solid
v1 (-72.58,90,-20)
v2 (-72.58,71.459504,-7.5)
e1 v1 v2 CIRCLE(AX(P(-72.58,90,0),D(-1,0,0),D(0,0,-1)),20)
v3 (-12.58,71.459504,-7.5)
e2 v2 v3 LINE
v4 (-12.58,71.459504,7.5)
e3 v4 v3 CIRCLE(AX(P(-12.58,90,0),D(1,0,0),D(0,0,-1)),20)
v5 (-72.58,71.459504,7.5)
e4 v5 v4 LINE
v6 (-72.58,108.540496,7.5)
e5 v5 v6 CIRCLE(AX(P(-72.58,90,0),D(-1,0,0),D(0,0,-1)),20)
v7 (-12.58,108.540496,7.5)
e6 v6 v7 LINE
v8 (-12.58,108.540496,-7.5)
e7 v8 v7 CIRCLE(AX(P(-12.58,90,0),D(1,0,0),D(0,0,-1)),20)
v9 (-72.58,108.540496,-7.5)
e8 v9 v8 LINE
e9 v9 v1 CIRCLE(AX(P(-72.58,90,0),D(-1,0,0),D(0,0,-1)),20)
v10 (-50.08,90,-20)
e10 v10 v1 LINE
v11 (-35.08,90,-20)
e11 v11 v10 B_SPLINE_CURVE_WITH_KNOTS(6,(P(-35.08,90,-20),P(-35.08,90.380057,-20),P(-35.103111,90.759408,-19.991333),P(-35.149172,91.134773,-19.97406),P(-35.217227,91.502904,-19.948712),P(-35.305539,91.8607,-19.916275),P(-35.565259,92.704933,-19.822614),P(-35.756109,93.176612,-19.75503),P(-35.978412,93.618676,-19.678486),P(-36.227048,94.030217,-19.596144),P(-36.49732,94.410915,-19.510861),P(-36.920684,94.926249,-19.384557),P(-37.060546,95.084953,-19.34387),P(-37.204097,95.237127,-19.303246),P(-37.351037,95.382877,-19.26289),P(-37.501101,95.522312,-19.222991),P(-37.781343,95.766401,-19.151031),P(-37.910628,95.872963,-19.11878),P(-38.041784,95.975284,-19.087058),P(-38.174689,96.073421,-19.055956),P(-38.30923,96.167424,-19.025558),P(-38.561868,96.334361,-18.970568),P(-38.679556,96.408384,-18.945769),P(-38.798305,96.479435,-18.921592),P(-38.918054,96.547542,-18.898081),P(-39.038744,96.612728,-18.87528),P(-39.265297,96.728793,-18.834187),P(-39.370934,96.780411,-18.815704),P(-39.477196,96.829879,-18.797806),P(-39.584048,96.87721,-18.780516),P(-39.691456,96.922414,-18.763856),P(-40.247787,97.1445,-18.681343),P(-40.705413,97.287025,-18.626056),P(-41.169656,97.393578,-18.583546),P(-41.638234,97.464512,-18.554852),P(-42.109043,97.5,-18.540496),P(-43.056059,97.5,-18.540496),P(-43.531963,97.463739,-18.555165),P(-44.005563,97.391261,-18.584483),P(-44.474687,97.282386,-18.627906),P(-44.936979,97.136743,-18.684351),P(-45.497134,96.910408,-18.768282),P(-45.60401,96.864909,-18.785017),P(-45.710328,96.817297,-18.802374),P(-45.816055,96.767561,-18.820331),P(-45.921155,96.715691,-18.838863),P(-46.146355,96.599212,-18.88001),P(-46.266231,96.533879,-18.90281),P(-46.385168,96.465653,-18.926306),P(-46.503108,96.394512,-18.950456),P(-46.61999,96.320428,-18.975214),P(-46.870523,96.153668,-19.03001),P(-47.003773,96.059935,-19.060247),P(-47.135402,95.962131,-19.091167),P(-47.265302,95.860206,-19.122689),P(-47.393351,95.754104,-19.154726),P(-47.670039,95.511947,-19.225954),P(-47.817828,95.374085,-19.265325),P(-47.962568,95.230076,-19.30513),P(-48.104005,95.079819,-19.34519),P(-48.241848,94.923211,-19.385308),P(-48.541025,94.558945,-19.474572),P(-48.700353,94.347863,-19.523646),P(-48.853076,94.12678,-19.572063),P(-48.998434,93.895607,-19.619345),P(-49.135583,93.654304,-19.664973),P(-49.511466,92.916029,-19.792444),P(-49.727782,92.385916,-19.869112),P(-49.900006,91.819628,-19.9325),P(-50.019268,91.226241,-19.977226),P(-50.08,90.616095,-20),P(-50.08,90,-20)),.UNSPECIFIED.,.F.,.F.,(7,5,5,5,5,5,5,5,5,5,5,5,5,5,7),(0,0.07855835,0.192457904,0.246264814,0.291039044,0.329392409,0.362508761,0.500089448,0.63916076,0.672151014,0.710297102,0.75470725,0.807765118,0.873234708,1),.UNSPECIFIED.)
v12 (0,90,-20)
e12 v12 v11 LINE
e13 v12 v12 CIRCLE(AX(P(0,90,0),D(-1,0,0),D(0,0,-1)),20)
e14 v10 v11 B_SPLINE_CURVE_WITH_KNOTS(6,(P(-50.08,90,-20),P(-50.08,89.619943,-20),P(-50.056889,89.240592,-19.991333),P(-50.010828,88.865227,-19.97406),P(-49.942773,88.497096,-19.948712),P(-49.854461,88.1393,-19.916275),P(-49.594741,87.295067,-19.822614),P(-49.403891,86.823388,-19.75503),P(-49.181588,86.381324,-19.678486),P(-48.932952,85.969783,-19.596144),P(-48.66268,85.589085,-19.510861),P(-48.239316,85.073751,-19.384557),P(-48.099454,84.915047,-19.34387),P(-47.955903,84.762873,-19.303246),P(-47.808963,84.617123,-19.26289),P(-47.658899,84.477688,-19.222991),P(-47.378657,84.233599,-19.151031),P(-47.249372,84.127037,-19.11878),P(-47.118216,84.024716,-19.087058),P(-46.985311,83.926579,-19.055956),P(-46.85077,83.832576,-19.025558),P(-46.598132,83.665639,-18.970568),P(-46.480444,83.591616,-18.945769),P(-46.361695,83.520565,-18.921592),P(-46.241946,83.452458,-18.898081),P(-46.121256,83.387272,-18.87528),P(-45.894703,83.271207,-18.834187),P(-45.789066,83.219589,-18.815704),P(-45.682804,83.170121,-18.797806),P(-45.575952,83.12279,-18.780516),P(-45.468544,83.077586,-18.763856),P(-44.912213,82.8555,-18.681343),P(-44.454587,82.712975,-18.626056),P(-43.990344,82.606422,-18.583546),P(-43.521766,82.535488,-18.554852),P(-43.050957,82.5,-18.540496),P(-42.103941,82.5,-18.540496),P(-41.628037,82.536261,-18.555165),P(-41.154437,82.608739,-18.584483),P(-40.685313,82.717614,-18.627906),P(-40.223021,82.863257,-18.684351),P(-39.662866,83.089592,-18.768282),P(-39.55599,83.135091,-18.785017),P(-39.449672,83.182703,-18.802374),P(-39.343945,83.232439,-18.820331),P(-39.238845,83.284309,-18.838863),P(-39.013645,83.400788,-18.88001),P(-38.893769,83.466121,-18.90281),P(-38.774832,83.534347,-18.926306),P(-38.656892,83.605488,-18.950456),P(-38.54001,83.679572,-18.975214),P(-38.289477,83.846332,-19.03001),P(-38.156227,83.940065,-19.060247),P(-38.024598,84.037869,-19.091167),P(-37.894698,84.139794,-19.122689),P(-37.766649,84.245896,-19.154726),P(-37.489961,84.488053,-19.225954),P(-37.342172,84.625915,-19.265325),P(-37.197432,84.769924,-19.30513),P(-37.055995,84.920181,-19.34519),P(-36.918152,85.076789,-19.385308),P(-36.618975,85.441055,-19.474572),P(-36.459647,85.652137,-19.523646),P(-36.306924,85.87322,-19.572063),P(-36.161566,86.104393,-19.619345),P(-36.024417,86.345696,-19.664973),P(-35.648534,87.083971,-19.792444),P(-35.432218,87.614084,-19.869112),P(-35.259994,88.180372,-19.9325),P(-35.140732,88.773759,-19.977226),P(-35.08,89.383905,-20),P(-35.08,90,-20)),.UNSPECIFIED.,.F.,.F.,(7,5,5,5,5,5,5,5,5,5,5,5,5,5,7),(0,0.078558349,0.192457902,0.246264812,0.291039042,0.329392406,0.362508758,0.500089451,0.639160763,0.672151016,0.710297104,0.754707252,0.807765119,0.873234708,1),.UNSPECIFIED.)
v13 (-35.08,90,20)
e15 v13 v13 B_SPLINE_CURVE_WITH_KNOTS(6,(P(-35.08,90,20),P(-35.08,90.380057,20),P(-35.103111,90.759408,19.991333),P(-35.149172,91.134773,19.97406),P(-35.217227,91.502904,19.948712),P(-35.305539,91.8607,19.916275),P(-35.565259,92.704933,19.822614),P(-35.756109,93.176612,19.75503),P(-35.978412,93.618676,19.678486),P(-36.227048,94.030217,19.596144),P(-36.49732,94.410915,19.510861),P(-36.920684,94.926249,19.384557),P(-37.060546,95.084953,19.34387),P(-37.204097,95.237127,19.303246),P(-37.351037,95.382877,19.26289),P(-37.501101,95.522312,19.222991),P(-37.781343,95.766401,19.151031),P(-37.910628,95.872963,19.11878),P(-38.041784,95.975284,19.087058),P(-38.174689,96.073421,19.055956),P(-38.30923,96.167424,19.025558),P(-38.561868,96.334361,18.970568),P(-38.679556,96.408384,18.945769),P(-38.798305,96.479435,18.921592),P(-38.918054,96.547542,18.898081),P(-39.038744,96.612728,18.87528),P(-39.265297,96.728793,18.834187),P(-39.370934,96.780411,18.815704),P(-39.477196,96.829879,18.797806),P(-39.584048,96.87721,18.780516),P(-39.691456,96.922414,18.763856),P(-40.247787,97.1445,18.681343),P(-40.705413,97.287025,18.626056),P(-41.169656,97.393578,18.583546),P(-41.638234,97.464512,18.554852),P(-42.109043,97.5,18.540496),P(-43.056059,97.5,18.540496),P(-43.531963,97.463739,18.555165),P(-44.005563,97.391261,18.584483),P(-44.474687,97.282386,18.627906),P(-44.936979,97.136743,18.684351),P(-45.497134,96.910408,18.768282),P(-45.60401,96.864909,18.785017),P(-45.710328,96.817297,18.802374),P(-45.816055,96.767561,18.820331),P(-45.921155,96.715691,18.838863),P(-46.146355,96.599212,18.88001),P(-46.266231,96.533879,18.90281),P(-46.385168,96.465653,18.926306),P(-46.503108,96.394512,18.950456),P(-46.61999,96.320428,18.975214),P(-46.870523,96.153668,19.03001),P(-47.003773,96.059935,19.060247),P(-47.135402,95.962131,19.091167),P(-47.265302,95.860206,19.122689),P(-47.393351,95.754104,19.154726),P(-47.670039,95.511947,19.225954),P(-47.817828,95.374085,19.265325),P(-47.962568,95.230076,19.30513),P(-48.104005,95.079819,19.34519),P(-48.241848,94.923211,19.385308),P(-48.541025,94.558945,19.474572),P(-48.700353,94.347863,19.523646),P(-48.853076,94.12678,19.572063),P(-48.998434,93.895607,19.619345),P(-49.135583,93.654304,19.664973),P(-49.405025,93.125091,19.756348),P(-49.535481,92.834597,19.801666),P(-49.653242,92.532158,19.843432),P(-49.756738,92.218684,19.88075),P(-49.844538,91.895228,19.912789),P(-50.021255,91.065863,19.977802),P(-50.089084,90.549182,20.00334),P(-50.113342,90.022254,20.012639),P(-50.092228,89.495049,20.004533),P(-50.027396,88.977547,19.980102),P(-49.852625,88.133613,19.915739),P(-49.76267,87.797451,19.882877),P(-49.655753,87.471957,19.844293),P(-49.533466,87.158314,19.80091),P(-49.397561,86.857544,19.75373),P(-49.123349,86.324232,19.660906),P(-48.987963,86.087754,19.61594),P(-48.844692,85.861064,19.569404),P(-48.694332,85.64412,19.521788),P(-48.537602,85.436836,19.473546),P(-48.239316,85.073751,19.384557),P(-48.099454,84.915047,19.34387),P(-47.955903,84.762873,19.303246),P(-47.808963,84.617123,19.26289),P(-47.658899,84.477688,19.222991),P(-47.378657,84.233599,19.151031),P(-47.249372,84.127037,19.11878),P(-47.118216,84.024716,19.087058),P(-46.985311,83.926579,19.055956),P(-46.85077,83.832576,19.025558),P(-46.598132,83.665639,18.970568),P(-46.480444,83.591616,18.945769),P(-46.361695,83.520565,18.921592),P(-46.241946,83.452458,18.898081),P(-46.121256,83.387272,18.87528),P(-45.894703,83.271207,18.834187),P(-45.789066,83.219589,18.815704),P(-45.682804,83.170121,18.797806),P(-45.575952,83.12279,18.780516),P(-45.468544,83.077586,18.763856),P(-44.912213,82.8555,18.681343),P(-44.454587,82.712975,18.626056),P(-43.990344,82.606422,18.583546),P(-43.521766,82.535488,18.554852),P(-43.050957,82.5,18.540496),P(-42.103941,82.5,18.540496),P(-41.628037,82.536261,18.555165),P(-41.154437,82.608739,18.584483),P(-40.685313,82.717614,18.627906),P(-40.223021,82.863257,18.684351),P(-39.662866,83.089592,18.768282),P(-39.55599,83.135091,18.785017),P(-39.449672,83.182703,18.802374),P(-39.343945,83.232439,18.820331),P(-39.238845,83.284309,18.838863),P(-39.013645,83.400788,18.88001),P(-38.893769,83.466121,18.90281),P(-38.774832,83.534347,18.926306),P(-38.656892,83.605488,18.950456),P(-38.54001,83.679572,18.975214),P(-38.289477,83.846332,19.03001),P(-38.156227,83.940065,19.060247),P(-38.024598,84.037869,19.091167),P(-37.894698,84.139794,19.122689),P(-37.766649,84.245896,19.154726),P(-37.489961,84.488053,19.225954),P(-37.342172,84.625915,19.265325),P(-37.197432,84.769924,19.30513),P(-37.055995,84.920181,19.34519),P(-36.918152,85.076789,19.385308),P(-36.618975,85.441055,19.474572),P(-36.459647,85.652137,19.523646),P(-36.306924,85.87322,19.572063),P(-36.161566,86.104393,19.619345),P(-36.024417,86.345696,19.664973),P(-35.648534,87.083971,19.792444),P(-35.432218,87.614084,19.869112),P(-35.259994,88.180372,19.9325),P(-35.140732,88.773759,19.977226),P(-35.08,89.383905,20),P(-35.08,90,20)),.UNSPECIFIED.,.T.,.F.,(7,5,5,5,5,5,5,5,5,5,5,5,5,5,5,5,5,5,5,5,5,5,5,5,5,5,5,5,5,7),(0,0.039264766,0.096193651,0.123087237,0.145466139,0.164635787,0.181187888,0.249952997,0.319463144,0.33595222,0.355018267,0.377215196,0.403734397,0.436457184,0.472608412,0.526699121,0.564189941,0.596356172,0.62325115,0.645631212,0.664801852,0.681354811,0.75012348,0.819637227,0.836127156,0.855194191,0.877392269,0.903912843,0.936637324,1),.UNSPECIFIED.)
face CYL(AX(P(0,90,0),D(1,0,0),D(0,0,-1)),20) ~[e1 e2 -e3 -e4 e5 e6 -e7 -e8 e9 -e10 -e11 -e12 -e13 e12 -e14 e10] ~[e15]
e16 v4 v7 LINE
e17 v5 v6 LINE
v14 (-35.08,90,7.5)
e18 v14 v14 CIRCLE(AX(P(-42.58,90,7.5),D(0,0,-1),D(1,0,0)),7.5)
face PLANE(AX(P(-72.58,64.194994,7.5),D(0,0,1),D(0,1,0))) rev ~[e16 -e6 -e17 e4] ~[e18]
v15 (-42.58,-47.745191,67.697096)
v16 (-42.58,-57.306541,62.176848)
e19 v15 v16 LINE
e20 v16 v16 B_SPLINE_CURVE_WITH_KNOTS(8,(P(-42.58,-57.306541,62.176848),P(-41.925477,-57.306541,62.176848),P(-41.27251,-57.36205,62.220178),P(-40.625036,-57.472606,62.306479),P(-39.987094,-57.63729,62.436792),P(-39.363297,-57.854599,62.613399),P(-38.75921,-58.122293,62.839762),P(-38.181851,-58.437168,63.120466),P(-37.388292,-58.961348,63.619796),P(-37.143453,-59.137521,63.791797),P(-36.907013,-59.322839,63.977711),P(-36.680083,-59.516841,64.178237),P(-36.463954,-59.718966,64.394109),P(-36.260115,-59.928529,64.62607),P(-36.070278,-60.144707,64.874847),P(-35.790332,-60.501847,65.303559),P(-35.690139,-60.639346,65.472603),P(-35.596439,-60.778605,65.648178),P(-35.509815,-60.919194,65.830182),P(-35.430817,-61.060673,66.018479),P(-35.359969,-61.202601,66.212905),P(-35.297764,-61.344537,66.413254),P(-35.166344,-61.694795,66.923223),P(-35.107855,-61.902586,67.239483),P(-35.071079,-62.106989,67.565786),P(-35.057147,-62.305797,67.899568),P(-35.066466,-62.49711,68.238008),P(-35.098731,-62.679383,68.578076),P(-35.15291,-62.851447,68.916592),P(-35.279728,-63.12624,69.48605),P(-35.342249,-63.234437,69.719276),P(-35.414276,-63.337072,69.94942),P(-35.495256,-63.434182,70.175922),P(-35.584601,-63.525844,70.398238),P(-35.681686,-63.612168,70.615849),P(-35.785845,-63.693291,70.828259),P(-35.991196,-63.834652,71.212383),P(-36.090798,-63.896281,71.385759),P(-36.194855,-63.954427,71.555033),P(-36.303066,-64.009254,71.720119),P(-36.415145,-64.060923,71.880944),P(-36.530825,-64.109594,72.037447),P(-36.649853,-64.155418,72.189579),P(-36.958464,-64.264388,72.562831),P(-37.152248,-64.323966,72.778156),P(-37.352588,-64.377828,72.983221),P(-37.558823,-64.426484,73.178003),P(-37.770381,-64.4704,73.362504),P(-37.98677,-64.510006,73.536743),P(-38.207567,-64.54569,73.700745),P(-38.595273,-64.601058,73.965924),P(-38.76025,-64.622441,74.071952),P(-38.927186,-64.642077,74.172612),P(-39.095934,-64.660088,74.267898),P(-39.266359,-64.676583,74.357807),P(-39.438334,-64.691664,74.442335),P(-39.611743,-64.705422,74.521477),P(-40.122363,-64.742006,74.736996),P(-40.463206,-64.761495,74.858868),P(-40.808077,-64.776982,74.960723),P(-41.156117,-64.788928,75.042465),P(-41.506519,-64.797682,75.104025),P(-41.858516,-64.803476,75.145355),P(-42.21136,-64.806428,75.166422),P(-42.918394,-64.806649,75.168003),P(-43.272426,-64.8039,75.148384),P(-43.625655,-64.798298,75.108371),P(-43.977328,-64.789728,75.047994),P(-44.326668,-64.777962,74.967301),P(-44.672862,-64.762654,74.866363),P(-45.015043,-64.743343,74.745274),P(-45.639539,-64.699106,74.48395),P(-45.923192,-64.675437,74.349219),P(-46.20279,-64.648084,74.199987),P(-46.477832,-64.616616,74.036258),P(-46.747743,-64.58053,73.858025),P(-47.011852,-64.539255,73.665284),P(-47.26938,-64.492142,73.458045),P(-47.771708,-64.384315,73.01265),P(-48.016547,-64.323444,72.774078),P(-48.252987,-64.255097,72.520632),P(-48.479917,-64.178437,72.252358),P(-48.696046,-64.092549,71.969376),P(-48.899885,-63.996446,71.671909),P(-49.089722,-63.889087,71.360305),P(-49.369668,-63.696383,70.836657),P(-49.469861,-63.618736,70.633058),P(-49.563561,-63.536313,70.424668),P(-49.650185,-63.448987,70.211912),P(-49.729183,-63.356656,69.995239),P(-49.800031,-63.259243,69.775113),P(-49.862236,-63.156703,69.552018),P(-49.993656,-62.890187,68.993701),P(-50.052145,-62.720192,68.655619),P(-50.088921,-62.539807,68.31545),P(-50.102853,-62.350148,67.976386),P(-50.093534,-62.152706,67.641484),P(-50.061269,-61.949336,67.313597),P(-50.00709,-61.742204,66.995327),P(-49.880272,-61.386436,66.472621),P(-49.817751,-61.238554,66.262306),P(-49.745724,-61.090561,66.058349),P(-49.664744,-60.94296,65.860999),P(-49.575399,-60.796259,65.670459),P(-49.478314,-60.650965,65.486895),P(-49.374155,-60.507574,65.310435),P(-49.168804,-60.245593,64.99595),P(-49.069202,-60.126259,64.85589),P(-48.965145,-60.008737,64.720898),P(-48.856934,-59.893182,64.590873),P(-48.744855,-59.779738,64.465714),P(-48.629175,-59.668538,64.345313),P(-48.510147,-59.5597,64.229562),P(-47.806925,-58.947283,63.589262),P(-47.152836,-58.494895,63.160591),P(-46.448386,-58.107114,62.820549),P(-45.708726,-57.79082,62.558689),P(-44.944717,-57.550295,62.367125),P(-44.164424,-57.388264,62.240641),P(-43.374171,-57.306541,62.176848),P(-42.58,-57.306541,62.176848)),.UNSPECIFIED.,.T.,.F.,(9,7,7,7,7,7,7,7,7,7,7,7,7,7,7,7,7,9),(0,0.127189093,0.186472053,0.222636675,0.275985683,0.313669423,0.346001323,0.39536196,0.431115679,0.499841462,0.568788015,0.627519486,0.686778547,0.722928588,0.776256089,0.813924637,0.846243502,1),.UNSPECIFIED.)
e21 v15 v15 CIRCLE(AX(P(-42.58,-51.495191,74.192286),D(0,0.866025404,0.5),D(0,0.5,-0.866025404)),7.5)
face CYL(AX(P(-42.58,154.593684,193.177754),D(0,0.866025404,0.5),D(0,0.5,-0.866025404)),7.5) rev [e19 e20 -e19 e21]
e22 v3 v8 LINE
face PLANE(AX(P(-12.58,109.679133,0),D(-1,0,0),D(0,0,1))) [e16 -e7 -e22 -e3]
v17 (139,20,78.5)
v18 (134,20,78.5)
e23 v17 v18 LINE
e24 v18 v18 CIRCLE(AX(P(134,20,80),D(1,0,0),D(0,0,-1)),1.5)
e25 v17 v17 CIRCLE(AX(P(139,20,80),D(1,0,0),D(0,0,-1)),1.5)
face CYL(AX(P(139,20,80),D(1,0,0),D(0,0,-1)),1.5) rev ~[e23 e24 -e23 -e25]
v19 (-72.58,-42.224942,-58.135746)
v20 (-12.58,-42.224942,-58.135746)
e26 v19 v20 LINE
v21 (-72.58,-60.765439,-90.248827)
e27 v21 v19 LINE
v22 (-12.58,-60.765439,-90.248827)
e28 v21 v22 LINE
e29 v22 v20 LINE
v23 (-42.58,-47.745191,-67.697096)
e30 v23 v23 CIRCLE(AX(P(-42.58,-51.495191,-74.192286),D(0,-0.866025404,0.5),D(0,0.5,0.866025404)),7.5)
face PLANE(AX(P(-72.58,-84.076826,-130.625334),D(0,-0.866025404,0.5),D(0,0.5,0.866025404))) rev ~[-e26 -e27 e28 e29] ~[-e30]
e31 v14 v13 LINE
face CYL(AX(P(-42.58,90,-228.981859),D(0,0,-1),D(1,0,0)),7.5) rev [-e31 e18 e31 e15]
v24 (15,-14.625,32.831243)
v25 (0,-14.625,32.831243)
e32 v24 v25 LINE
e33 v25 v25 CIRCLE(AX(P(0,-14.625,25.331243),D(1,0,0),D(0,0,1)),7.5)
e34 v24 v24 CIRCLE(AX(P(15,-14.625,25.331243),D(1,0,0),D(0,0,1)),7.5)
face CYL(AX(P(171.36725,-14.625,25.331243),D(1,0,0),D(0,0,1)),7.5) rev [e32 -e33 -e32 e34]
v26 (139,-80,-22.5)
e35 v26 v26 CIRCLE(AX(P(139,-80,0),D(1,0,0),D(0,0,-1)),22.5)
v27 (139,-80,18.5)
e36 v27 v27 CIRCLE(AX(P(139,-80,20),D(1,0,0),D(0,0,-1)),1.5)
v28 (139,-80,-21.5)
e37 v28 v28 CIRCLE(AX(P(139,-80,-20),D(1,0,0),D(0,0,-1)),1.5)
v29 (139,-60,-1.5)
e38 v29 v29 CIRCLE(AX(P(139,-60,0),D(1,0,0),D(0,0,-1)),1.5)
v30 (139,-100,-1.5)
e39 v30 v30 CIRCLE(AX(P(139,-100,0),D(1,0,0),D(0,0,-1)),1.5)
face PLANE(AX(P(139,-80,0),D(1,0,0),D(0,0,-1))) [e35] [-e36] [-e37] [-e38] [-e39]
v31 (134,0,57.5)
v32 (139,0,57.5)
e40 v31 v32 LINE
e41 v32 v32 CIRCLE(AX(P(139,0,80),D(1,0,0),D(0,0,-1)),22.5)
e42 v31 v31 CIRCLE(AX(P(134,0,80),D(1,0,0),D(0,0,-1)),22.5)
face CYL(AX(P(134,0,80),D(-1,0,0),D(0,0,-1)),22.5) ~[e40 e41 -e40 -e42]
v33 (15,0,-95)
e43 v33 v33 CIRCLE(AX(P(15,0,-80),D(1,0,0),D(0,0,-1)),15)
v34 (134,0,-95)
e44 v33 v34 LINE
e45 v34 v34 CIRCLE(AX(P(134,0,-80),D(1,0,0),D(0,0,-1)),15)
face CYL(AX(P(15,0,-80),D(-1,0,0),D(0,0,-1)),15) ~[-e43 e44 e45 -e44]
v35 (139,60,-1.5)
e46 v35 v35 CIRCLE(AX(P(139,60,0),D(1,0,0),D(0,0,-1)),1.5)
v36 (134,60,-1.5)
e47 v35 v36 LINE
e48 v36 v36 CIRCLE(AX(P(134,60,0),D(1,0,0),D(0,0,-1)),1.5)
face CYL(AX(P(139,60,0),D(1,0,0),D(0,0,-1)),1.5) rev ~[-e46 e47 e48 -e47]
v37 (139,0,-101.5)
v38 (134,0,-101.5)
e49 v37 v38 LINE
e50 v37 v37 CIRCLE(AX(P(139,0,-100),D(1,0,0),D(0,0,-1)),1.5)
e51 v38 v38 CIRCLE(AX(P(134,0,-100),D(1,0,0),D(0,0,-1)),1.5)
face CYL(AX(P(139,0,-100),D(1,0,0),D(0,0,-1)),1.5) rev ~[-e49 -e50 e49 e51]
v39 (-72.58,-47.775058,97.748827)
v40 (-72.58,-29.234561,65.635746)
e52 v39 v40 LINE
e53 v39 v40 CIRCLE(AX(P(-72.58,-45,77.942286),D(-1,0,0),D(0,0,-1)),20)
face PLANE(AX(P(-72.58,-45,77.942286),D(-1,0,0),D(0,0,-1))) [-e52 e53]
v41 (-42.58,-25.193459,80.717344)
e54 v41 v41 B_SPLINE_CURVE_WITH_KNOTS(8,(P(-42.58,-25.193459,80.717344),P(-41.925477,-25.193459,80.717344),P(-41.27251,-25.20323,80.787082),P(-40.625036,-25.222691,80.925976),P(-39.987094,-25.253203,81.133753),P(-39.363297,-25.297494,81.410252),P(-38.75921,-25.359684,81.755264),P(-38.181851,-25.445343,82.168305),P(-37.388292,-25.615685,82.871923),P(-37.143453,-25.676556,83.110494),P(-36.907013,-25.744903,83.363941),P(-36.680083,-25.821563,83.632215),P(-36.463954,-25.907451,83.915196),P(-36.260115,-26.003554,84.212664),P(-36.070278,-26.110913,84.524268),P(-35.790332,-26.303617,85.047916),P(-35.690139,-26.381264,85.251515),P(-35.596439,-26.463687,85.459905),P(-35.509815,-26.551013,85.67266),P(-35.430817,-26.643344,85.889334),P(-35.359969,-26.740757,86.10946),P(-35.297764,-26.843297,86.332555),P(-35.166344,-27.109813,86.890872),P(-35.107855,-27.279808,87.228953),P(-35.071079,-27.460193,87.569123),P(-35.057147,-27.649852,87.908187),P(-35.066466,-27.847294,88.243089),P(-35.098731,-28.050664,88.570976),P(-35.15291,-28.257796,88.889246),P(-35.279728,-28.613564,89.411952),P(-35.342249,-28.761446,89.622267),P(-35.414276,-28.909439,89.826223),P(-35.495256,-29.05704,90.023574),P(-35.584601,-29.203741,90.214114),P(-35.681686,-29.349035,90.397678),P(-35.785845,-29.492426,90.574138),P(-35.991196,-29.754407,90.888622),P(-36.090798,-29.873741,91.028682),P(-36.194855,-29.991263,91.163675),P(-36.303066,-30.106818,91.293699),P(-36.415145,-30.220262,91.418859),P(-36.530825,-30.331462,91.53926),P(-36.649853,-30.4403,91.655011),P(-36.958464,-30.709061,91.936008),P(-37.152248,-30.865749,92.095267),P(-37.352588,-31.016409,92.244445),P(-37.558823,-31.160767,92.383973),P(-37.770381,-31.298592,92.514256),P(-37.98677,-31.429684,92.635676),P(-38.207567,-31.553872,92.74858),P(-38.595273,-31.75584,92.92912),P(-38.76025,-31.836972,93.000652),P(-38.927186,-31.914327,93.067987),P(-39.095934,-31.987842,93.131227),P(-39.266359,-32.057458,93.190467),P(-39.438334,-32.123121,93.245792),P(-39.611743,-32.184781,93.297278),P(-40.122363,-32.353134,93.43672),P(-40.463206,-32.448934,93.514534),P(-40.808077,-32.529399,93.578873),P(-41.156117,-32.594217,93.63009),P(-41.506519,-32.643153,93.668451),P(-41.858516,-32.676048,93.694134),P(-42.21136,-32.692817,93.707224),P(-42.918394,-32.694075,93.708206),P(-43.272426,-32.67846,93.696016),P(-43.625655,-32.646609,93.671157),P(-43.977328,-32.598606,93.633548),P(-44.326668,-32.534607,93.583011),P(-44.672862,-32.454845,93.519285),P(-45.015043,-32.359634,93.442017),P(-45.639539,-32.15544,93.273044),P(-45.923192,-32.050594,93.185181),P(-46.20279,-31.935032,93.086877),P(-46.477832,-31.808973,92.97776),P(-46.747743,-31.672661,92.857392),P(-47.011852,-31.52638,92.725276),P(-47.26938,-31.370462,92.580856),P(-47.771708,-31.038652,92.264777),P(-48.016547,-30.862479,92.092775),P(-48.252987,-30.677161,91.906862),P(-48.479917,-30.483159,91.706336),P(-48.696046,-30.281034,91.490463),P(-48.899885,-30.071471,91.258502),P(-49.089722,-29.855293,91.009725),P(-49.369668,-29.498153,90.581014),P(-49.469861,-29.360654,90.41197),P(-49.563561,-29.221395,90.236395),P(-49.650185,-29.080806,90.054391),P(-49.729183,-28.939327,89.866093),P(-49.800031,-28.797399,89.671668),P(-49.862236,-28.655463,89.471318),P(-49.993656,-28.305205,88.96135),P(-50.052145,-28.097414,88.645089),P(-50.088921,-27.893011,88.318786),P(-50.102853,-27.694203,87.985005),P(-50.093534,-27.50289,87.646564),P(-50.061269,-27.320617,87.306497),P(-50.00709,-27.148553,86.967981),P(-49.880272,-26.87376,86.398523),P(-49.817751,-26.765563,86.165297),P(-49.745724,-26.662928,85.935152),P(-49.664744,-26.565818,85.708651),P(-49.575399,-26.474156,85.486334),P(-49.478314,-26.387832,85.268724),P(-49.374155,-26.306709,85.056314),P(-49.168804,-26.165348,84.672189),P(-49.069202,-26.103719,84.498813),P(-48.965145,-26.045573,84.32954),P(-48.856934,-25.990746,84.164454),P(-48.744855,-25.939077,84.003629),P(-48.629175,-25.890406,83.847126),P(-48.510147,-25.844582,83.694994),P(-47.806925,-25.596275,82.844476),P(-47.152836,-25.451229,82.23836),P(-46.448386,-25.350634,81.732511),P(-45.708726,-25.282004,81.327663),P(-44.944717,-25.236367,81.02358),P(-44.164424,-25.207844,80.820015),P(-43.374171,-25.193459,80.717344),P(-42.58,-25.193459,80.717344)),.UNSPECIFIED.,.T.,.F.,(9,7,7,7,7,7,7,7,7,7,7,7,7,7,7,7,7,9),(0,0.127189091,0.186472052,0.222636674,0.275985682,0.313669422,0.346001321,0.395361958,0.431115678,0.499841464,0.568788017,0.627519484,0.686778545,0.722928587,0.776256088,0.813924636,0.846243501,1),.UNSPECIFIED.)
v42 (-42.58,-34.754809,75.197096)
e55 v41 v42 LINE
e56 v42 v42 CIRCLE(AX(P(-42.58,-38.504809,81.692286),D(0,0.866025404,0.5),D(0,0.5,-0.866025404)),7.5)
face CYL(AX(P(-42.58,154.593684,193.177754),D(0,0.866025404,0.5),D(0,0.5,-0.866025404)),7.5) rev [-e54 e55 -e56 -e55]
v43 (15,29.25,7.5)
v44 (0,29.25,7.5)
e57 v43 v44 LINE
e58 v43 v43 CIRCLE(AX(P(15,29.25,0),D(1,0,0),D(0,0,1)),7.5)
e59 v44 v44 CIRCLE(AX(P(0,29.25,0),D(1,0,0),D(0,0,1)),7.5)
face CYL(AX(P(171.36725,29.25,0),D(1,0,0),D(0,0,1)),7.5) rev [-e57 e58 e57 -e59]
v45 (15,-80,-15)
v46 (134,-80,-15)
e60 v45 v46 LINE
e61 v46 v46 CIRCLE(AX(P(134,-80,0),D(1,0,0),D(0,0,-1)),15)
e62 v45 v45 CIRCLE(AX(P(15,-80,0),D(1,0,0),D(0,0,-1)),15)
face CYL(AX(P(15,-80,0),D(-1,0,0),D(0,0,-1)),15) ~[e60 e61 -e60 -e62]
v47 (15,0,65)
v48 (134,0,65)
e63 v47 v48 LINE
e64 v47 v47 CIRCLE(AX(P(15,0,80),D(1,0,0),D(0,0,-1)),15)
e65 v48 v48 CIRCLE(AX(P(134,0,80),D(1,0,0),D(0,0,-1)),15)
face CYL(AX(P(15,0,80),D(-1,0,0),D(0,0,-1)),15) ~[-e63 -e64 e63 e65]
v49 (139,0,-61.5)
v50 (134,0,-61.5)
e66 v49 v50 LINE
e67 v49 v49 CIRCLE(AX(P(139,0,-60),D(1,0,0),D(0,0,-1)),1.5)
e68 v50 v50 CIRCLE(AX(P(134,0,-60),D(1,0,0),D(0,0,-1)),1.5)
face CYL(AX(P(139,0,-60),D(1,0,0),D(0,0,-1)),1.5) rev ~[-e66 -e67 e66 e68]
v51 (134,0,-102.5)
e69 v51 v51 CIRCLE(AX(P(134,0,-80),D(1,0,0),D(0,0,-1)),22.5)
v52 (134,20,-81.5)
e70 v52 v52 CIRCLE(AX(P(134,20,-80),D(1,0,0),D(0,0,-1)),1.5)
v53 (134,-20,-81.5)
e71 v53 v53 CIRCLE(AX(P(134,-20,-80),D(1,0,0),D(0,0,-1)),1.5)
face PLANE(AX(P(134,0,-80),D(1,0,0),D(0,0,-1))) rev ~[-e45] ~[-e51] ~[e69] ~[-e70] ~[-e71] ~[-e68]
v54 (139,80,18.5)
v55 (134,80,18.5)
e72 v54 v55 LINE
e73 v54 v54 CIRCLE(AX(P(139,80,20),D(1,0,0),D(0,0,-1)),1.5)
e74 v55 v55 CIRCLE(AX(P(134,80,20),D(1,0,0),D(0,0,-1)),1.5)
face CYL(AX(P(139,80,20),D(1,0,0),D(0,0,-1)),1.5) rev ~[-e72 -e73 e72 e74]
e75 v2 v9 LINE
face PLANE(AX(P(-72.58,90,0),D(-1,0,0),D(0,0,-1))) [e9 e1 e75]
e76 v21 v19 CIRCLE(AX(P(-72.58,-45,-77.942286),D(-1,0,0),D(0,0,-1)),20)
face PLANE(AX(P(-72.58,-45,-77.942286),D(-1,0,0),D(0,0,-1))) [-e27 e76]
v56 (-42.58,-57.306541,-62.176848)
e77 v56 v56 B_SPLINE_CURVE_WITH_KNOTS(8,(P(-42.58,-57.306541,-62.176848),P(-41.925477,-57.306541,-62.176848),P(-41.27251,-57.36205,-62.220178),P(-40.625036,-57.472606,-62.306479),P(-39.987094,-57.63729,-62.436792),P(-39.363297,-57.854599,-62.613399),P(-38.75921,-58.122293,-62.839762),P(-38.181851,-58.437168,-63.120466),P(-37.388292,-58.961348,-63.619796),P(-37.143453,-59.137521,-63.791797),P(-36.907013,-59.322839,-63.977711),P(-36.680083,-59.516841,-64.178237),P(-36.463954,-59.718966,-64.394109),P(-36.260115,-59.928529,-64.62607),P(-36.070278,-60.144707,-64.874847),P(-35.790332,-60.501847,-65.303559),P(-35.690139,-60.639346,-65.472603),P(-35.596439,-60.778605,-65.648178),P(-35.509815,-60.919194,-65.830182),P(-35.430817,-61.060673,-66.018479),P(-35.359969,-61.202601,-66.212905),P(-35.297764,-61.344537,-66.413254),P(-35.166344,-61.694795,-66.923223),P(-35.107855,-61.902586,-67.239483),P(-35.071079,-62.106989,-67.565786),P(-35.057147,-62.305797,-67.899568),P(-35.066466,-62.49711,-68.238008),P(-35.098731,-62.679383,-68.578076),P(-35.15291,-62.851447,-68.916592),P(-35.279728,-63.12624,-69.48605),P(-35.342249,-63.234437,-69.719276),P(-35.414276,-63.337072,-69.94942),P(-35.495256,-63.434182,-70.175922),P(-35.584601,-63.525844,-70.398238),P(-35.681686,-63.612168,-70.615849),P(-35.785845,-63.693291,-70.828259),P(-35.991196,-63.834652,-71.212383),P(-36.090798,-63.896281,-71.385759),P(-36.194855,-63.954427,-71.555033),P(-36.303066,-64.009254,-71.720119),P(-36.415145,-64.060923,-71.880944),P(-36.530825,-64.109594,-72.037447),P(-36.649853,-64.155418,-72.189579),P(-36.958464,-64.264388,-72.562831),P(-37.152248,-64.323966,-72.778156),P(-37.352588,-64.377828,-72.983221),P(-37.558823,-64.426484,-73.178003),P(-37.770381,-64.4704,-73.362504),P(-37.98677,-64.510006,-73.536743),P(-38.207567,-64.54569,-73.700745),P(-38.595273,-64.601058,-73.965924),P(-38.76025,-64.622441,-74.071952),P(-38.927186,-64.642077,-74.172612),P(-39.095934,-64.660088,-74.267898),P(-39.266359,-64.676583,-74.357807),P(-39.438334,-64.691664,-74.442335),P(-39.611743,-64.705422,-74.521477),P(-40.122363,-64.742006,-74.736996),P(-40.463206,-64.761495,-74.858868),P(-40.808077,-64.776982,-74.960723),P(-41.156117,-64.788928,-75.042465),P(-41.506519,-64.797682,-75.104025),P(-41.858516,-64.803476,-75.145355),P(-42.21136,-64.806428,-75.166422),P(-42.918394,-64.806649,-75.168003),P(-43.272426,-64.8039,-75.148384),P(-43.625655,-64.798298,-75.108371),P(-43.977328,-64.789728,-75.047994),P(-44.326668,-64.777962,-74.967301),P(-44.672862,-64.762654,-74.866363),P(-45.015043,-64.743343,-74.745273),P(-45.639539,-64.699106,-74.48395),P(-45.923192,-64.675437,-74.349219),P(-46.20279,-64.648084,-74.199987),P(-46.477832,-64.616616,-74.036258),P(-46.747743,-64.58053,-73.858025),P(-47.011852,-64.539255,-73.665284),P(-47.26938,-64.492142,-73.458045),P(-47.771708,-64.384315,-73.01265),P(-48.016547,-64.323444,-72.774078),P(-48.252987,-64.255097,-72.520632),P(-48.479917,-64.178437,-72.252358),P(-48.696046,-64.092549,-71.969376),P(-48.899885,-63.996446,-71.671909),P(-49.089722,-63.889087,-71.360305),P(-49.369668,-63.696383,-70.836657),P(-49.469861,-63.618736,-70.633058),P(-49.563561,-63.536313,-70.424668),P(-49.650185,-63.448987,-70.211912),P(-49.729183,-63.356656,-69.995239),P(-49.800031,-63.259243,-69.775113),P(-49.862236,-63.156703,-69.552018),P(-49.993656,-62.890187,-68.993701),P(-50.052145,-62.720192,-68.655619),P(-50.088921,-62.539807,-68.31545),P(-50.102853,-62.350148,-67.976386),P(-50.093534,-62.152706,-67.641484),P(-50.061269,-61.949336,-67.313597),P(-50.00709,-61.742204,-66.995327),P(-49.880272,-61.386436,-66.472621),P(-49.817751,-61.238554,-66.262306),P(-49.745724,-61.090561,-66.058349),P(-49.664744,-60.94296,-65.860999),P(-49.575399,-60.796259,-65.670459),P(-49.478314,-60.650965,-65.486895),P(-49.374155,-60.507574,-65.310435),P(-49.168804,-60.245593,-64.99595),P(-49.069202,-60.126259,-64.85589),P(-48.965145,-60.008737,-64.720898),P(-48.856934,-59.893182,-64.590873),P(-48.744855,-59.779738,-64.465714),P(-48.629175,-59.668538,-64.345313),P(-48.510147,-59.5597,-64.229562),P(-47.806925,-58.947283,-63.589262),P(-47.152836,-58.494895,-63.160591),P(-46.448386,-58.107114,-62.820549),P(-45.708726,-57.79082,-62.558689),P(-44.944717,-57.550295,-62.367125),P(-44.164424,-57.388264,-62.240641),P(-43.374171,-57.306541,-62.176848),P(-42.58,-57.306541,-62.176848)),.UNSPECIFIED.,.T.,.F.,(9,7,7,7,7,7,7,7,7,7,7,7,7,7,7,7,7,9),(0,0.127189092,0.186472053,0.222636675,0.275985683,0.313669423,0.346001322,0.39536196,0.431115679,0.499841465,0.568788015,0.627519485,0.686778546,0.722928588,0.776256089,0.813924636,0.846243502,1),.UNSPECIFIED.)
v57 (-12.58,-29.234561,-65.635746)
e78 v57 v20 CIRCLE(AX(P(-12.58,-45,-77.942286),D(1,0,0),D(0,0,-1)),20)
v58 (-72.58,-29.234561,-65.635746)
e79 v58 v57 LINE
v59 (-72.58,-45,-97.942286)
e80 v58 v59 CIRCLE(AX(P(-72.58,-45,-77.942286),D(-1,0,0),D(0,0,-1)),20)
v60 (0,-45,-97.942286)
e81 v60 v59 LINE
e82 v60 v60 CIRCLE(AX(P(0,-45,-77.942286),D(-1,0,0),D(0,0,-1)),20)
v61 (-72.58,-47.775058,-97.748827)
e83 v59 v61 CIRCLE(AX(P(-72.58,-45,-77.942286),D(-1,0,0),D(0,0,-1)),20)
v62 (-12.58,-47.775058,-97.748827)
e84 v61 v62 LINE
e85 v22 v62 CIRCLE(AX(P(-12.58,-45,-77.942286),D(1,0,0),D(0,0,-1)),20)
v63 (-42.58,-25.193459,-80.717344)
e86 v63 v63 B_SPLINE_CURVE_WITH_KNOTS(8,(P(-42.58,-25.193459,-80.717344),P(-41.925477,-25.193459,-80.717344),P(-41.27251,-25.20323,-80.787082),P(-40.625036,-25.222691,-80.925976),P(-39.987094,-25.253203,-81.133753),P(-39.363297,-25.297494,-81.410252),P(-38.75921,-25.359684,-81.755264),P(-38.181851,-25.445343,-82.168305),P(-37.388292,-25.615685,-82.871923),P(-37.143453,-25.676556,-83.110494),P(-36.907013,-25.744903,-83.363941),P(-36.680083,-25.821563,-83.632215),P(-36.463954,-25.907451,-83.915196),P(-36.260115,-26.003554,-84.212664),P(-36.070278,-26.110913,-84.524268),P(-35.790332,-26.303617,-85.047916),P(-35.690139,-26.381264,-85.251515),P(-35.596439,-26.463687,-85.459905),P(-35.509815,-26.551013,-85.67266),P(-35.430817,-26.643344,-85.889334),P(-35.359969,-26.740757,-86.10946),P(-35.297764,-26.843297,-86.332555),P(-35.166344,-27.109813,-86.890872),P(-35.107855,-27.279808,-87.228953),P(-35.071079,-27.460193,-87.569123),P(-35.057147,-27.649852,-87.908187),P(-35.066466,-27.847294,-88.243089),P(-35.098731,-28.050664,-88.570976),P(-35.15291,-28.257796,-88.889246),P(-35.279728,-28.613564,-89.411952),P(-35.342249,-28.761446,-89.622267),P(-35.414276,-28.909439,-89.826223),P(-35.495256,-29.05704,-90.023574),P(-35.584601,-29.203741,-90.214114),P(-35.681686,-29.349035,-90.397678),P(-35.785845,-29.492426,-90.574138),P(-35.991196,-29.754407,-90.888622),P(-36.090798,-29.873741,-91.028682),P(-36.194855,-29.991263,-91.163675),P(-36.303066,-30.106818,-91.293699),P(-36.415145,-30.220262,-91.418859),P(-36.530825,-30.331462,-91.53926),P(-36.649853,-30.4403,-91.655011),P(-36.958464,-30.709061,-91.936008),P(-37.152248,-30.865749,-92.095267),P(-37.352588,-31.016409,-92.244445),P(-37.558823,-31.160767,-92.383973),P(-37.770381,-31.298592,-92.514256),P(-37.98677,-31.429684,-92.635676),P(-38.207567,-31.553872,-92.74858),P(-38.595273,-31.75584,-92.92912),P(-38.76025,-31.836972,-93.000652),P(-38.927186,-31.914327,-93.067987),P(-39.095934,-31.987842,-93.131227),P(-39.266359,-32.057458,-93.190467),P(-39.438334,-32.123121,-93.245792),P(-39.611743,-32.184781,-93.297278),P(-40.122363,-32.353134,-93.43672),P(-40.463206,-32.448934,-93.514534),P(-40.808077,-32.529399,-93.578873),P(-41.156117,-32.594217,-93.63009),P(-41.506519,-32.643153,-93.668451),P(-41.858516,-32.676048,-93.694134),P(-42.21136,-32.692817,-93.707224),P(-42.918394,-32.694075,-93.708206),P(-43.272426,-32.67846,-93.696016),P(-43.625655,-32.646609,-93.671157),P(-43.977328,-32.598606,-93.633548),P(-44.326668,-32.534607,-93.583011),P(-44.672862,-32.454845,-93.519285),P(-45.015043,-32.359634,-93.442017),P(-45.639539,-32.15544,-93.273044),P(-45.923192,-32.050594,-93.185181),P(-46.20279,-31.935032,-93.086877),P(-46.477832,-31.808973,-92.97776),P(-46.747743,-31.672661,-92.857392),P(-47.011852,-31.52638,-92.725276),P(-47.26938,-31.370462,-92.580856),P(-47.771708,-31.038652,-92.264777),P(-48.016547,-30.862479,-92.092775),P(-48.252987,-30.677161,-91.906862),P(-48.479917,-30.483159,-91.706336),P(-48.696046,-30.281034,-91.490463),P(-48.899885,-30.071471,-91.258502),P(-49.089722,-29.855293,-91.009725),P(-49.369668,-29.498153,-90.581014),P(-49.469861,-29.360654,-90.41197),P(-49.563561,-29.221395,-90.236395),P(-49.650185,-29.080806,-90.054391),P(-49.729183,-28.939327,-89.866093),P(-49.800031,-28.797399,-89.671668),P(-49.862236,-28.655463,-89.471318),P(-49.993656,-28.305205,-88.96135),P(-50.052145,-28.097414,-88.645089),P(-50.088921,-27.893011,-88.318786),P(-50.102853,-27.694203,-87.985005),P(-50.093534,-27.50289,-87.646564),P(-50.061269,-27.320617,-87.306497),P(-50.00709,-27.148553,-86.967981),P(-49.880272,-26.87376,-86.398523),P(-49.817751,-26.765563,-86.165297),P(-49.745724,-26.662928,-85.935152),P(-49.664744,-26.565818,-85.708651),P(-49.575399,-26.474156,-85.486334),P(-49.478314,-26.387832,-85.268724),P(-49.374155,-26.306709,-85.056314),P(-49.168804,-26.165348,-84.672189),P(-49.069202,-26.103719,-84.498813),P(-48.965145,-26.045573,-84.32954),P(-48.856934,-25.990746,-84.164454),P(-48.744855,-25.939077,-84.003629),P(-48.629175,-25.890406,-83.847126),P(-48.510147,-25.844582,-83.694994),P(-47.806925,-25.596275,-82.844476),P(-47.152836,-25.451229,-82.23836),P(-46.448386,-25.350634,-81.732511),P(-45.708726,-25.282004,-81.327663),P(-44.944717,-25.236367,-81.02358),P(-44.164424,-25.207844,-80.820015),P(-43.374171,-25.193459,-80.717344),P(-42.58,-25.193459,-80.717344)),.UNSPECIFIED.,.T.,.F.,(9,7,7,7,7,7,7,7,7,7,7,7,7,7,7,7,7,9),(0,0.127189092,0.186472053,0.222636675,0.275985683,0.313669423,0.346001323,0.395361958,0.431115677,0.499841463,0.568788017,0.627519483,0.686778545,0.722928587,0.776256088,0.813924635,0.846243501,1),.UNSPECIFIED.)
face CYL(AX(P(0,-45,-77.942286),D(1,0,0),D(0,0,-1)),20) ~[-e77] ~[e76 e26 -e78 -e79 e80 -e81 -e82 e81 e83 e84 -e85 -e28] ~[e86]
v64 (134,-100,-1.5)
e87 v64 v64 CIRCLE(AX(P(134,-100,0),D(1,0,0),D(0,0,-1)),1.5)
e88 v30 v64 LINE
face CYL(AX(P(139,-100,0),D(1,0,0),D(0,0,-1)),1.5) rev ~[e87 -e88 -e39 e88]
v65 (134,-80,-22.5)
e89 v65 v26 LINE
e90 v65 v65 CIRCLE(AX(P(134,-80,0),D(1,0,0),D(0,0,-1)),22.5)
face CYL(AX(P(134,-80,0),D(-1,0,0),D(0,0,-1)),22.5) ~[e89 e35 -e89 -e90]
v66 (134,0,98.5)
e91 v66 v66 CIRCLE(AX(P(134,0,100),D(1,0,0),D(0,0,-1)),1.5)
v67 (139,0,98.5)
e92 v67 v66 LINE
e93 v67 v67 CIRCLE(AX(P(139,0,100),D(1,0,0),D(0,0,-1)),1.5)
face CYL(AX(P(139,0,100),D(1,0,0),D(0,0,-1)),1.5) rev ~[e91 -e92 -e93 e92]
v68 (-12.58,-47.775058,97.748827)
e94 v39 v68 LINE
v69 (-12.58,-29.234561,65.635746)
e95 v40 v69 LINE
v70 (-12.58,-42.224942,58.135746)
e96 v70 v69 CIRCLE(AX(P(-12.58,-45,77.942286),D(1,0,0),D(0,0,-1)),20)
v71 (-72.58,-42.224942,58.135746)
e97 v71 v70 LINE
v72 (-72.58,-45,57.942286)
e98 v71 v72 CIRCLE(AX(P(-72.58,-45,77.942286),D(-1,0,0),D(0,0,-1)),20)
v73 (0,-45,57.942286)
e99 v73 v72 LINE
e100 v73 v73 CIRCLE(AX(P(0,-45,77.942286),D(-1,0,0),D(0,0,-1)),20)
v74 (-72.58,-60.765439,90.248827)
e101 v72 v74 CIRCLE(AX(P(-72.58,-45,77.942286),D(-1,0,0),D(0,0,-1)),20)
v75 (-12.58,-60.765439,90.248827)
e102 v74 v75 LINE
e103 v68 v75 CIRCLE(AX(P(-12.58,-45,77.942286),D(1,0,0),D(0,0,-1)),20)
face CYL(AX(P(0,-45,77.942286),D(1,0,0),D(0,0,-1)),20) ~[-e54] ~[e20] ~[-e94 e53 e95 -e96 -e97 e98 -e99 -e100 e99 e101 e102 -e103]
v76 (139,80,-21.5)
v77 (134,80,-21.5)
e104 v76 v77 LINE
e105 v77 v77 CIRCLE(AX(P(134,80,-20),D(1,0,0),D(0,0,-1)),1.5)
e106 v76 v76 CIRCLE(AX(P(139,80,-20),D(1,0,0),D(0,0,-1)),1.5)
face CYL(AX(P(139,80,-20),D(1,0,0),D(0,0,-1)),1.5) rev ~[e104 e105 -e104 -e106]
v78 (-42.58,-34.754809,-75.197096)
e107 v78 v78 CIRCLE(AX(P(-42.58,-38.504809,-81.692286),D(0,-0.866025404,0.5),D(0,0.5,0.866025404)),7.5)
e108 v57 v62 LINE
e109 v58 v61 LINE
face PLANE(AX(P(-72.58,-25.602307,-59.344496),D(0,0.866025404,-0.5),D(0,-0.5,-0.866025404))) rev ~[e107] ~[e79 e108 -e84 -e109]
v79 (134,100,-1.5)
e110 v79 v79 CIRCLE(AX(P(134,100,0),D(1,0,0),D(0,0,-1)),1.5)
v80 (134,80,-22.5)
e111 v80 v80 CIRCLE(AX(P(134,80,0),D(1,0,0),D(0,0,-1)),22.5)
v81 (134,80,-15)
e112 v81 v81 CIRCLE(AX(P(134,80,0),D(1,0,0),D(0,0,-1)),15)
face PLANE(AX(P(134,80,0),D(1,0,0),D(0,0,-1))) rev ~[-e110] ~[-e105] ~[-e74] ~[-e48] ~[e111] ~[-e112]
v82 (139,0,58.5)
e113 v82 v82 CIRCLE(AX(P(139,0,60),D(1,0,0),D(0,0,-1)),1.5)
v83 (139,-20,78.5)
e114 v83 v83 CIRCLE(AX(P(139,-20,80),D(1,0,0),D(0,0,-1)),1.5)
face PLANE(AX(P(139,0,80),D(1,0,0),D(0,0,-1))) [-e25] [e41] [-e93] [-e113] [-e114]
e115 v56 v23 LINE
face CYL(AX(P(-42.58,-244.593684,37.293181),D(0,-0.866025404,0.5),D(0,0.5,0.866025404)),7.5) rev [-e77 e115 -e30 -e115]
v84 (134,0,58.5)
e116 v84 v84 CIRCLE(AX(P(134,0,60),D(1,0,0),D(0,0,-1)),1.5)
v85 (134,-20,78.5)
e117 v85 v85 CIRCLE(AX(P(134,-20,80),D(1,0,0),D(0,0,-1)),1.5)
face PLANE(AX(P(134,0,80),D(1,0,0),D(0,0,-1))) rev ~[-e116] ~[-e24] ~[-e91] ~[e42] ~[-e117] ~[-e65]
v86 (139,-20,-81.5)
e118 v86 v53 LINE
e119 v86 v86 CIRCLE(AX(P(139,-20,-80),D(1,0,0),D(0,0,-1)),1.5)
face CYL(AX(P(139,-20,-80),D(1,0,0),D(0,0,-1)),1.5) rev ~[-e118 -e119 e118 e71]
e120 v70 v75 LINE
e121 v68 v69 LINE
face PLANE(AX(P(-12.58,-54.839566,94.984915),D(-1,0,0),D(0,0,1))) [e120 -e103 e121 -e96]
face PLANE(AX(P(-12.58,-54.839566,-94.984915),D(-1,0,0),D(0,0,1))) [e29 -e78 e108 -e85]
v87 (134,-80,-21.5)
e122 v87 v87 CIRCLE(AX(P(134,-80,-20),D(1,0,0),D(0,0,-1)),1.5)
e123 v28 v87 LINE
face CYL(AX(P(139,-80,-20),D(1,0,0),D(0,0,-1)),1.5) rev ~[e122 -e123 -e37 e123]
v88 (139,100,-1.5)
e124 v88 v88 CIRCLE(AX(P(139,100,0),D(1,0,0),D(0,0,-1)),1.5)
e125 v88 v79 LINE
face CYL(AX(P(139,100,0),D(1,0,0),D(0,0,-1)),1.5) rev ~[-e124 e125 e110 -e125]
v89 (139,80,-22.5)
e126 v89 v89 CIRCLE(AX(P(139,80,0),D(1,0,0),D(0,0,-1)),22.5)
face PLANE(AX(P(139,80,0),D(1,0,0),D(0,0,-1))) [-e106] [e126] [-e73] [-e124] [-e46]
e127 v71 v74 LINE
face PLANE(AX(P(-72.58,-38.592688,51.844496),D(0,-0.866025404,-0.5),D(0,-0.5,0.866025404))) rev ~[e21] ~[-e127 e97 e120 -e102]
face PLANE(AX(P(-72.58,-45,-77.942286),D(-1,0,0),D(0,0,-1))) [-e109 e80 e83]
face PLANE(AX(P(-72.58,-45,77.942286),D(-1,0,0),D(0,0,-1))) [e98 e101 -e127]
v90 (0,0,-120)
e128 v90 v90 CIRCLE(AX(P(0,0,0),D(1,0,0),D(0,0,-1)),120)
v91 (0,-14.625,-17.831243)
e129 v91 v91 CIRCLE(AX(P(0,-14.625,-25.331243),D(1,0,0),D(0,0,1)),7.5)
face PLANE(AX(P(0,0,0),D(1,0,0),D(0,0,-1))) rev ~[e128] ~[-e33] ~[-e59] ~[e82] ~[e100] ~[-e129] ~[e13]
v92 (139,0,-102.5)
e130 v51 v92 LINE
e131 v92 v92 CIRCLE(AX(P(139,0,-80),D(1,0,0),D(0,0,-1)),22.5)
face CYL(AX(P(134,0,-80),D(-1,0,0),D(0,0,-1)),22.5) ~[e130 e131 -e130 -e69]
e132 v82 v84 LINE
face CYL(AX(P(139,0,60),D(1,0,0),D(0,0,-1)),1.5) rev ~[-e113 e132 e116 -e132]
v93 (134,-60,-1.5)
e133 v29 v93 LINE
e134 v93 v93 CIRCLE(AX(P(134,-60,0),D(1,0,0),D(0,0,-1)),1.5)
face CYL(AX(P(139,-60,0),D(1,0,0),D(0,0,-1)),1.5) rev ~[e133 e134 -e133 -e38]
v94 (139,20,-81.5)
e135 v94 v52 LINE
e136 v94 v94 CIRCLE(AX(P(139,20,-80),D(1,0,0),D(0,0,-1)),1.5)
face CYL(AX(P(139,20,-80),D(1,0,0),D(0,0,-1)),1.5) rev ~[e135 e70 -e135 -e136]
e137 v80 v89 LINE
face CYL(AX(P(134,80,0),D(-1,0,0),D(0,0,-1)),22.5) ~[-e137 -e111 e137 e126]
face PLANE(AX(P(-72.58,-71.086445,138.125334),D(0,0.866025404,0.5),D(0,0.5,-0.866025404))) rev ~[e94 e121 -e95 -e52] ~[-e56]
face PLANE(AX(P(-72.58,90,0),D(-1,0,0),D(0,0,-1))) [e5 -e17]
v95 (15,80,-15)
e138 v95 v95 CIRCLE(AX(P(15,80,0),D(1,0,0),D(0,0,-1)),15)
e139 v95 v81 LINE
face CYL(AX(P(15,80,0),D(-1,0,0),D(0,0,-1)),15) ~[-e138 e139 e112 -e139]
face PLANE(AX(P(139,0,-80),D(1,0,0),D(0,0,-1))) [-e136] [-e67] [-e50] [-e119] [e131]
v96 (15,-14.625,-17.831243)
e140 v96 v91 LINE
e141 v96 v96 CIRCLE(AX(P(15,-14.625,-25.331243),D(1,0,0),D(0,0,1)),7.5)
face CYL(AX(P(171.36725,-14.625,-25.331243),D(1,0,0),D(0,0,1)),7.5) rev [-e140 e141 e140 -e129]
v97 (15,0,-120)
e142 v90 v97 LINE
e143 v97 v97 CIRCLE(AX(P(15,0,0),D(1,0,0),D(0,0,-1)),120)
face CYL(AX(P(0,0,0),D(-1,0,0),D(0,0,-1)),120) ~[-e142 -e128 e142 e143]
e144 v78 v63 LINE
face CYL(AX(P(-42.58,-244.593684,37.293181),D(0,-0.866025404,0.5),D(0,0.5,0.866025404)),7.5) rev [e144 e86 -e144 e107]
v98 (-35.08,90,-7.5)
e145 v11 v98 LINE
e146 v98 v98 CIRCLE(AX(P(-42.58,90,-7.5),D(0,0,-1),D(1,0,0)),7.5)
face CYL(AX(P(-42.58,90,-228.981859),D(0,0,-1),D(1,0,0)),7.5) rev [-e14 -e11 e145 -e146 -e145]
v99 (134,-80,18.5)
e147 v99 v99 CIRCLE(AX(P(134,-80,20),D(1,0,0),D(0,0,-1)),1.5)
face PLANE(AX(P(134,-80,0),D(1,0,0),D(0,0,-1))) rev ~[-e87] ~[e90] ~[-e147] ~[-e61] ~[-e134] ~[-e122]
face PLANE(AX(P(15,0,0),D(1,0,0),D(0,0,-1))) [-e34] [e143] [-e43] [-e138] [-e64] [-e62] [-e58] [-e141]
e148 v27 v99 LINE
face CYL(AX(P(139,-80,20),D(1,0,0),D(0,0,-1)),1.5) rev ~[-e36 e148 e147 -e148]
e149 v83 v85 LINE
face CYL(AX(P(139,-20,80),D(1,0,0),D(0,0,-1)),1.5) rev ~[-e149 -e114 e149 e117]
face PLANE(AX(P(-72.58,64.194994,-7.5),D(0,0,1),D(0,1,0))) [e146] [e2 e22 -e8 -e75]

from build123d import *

# Parameters (mm, degrees)
SKETCH_2_R               = 120
EXTRUDE_1_DEPTH          = 15
CUT_EXTRUDE_1_DEPTH      = 171.367250374
CUT_EXTRUDE_1_DEPTH_BACK = 171.367250374
SKETCH_3_R               = 7.5
SKETCH_4_R               = 15
EXTRUDE_2_DEPTH          = 119
SKETCH_5_R               = 20
EXTRUDE_3_DEPTH          = 72.58
SKETCH_7_W               = 15
SKETCH_7_H               = 90.968276451
CUT_EXTRUDE_3_DEPTH      = 60
CUT_EXTRUDE_4_DEPTH      = 222.970934419
CUT_EXTRUDE_4_DEPTH_BACK = 222.970934419
SKETCH_8_R               = 7.5
CUT_EXTRUDE_5_DEPTH      = 222.970934419
CUT_EXTRUDE_5_DEPTH_BACK = 222.970934419
SKETCH_9_R               = 7.5
CUT_EXTRUDE_6_DEPTH      = 221.481858664
CUT_EXTRUDE_6_DEPTH_BACK = 221.481858664
SKETCH_10_R              = 7.5
SKETCH_11_R              = 22.5
EXTRUDE_4_DEPTH          = 5
SKETCH_12_R              = 1.5
CUT_EXTRUDE_7_DEPTH      = 10


with BuildPart() as part:
    # 草图2 → 凸台-拉伸1 (new body)
    with BuildSketch(Plane(origin=(0, 0, 0), x_dir=(0, 0, -1), z_dir=(1, 0, 0))):
        Circle(SKETCH_2_R)
    extrude(amount=EXTRUDE_1_DEPTH)

    # 草图3 → 切除-拉伸1 (cut, two sides: drawn at the far end of the back side and taken through both)
    with BuildSketch(Plane.ZY.offset(-CUT_EXTRUDE_1_DEPTH_BACK)):
        with Locations((0, 29.25)):
            Circle(SKETCH_3_R)
        with Locations((25.331243061, -14.625)):
            Circle(SKETCH_3_R)
        with Locations((-25.331243061, -14.625)):
            Circle(SKETCH_3_R)
    extrude(amount=CUT_EXTRUDE_1_DEPTH + CUT_EXTRUDE_1_DEPTH_BACK, mode=Mode.SUBTRACT)

    # 草图4 → 凸台-拉伸2 (add)
    with BuildSketch(Plane(origin=(15, 0, 0), x_dir=(0, 0, -1), z_dir=(1, 0, 0))):
        with Locations((0, 80)):
            Circle(SKETCH_4_R)
        with Locations((80, 0)):
            Circle(SKETCH_4_R)
        with Locations((0, -80)):
            Circle(SKETCH_4_R)
        with Locations((-80, 0)):
            Circle(SKETCH_4_R)
    extrude(amount=EXTRUDE_2_DEPTH)

    # 草图5 → 凸台-拉伸3 (add)
    with BuildSketch(Plane.ZY):
        with Locations(Location((0, 90, 0), (0, 0, 180))):
            Circle(SKETCH_5_R)
        with Locations(Location((77.942286341, -45, 0), (0, 0, 180))):
            Circle(SKETCH_5_R)
        with Locations(Location((-77.942286341, -45, 0), (0, 0, 180))):
            Circle(SKETCH_5_R)
    extrude(amount=EXTRUDE_3_DEPTH)

    # 草图7 → 切除-拉伸3 (cut)
    with BuildSketch(Plane.ZY.offset(72.58)):
        Polygon((51.844496006, -38.592687763), (130.625334351, -84.076825989), (138.125334351, -71.086444932), (59.344496006, -25.602306706), align=None)
        Polygon((-51.844496006, -38.592687763), (-59.344496006, -25.602306706), (-138.125334351, -71.086444932), (-130.625334351, -84.076825989), align=None)
        with Locations((0, 109.679132694)):
            Rectangle(SKETCH_7_W, SKETCH_7_H)
    extrude(amount=-CUT_EXTRUDE_3_DEPTH, mode=Mode.SUBTRACT)

    # 草图8 → 切除-拉伸4 (cut, two sides: drawn at the far end of the back side and taken through both)
    with BuildSketch(Plane(origin=(0, 6.495190528, 3.75), x_dir=(1, 0, 0), z_dir=(0, -0.8660254037844389, -0.4999999999999997)).offset(-CUT_EXTRUDE_4_DEPTH_BACK)):
        with Locations(Location((-42.58, 90, 0), (0, 0, 270))):
            Circle(SKETCH_8_R)
    extrude(amount=CUT_EXTRUDE_4_DEPTH + CUT_EXTRUDE_4_DEPTH_BACK, mode=Mode.SUBTRACT)

    # 草图9 → 切除-拉伸5 (cut, two sides: drawn at the far end of the back side and taken through both)
    with BuildSketch(Plane(origin=(0, -6.495190528, 3.75), x_dir=(1, 0, 0), z_dir=(0, 0.8660254037844386, -0.5000000000000003)).offset(-CUT_EXTRUDE_5_DEPTH_BACK)):
        with Locations(Location((-42.58, 90, 0), (0, 0, 270))):
            Circle(SKETCH_9_R)
    extrude(amount=CUT_EXTRUDE_5_DEPTH + CUT_EXTRUDE_5_DEPTH_BACK, mode=Mode.SUBTRACT)

    # 草图10 → 切除-拉伸6 (cut, two sides: drawn at the far end of the back side and taken through both)
    with BuildSketch(Plane.XY.offset(-7.5).offset(-CUT_EXTRUDE_6_DEPTH_BACK)):
        with Locations((-42.58, 90)):
            Circle(SKETCH_10_R)
    extrude(amount=CUT_EXTRUDE_6_DEPTH + CUT_EXTRUDE_6_DEPTH_BACK, mode=Mode.SUBTRACT)

    # 草图11 → 凸台-拉伸4 (add)
    with BuildSketch(Plane(origin=(134, 0, 0), x_dir=(0, 0, -1), z_dir=(1, 0, 0))):
        with Locations((-80, 0)):
            Circle(SKETCH_11_R)
        with Locations((0, 80)):
            Circle(SKETCH_11_R)
        with Locations((80, 0)):
            Circle(SKETCH_11_R)
        with Locations((0, -80)):
            Circle(SKETCH_11_R)
    extrude(amount=EXTRUDE_4_DEPTH)

    # 草图12 → 切除-拉伸7 (cut)
    with BuildSketch(Plane(origin=(139, 0, 0), x_dir=(0, 0, -1), z_dir=(1, 0, 0))):
        with Locations((-60, 0)):
            Circle(SKETCH_12_R)
        with Locations((-80, -20)):
            Circle(SKETCH_12_R)
        with Locations((-100, 0)):
            Circle(SKETCH_12_R)
        with Locations((-80, 20)):
            Circle(SKETCH_12_R)
        with Locations((0, 60)):
            Circle(SKETCH_12_R)
        with Locations((60, 0)):
            Circle(SKETCH_12_R)
        with Locations((0, -60)):
            Circle(SKETCH_12_R)
        with Locations((20, 80)):
            Circle(SKETCH_12_R)
        with Locations((80, -20)):
            Circle(SKETCH_12_R)
        with Locations((-20, -80)):
            Circle(SKETCH_12_R)
        with Locations((0, 100)):
            Circle(SKETCH_12_R)
        with Locations((100, 0)):
            Circle(SKETCH_12_R)
        with Locations((0, -100)):
            Circle(SKETCH_12_R)
        with Locations((-20, 80)):
            Circle(SKETCH_12_R)
        with Locations((80, 20)):
            Circle(SKETCH_12_R)
        with Locations((20, -80)):
            Circle(SKETCH_12_R)
    extrude(amount=-CUT_EXTRUDE_7_DEPTH, mode=Mode.SUBTRACT)


solid = part.part
